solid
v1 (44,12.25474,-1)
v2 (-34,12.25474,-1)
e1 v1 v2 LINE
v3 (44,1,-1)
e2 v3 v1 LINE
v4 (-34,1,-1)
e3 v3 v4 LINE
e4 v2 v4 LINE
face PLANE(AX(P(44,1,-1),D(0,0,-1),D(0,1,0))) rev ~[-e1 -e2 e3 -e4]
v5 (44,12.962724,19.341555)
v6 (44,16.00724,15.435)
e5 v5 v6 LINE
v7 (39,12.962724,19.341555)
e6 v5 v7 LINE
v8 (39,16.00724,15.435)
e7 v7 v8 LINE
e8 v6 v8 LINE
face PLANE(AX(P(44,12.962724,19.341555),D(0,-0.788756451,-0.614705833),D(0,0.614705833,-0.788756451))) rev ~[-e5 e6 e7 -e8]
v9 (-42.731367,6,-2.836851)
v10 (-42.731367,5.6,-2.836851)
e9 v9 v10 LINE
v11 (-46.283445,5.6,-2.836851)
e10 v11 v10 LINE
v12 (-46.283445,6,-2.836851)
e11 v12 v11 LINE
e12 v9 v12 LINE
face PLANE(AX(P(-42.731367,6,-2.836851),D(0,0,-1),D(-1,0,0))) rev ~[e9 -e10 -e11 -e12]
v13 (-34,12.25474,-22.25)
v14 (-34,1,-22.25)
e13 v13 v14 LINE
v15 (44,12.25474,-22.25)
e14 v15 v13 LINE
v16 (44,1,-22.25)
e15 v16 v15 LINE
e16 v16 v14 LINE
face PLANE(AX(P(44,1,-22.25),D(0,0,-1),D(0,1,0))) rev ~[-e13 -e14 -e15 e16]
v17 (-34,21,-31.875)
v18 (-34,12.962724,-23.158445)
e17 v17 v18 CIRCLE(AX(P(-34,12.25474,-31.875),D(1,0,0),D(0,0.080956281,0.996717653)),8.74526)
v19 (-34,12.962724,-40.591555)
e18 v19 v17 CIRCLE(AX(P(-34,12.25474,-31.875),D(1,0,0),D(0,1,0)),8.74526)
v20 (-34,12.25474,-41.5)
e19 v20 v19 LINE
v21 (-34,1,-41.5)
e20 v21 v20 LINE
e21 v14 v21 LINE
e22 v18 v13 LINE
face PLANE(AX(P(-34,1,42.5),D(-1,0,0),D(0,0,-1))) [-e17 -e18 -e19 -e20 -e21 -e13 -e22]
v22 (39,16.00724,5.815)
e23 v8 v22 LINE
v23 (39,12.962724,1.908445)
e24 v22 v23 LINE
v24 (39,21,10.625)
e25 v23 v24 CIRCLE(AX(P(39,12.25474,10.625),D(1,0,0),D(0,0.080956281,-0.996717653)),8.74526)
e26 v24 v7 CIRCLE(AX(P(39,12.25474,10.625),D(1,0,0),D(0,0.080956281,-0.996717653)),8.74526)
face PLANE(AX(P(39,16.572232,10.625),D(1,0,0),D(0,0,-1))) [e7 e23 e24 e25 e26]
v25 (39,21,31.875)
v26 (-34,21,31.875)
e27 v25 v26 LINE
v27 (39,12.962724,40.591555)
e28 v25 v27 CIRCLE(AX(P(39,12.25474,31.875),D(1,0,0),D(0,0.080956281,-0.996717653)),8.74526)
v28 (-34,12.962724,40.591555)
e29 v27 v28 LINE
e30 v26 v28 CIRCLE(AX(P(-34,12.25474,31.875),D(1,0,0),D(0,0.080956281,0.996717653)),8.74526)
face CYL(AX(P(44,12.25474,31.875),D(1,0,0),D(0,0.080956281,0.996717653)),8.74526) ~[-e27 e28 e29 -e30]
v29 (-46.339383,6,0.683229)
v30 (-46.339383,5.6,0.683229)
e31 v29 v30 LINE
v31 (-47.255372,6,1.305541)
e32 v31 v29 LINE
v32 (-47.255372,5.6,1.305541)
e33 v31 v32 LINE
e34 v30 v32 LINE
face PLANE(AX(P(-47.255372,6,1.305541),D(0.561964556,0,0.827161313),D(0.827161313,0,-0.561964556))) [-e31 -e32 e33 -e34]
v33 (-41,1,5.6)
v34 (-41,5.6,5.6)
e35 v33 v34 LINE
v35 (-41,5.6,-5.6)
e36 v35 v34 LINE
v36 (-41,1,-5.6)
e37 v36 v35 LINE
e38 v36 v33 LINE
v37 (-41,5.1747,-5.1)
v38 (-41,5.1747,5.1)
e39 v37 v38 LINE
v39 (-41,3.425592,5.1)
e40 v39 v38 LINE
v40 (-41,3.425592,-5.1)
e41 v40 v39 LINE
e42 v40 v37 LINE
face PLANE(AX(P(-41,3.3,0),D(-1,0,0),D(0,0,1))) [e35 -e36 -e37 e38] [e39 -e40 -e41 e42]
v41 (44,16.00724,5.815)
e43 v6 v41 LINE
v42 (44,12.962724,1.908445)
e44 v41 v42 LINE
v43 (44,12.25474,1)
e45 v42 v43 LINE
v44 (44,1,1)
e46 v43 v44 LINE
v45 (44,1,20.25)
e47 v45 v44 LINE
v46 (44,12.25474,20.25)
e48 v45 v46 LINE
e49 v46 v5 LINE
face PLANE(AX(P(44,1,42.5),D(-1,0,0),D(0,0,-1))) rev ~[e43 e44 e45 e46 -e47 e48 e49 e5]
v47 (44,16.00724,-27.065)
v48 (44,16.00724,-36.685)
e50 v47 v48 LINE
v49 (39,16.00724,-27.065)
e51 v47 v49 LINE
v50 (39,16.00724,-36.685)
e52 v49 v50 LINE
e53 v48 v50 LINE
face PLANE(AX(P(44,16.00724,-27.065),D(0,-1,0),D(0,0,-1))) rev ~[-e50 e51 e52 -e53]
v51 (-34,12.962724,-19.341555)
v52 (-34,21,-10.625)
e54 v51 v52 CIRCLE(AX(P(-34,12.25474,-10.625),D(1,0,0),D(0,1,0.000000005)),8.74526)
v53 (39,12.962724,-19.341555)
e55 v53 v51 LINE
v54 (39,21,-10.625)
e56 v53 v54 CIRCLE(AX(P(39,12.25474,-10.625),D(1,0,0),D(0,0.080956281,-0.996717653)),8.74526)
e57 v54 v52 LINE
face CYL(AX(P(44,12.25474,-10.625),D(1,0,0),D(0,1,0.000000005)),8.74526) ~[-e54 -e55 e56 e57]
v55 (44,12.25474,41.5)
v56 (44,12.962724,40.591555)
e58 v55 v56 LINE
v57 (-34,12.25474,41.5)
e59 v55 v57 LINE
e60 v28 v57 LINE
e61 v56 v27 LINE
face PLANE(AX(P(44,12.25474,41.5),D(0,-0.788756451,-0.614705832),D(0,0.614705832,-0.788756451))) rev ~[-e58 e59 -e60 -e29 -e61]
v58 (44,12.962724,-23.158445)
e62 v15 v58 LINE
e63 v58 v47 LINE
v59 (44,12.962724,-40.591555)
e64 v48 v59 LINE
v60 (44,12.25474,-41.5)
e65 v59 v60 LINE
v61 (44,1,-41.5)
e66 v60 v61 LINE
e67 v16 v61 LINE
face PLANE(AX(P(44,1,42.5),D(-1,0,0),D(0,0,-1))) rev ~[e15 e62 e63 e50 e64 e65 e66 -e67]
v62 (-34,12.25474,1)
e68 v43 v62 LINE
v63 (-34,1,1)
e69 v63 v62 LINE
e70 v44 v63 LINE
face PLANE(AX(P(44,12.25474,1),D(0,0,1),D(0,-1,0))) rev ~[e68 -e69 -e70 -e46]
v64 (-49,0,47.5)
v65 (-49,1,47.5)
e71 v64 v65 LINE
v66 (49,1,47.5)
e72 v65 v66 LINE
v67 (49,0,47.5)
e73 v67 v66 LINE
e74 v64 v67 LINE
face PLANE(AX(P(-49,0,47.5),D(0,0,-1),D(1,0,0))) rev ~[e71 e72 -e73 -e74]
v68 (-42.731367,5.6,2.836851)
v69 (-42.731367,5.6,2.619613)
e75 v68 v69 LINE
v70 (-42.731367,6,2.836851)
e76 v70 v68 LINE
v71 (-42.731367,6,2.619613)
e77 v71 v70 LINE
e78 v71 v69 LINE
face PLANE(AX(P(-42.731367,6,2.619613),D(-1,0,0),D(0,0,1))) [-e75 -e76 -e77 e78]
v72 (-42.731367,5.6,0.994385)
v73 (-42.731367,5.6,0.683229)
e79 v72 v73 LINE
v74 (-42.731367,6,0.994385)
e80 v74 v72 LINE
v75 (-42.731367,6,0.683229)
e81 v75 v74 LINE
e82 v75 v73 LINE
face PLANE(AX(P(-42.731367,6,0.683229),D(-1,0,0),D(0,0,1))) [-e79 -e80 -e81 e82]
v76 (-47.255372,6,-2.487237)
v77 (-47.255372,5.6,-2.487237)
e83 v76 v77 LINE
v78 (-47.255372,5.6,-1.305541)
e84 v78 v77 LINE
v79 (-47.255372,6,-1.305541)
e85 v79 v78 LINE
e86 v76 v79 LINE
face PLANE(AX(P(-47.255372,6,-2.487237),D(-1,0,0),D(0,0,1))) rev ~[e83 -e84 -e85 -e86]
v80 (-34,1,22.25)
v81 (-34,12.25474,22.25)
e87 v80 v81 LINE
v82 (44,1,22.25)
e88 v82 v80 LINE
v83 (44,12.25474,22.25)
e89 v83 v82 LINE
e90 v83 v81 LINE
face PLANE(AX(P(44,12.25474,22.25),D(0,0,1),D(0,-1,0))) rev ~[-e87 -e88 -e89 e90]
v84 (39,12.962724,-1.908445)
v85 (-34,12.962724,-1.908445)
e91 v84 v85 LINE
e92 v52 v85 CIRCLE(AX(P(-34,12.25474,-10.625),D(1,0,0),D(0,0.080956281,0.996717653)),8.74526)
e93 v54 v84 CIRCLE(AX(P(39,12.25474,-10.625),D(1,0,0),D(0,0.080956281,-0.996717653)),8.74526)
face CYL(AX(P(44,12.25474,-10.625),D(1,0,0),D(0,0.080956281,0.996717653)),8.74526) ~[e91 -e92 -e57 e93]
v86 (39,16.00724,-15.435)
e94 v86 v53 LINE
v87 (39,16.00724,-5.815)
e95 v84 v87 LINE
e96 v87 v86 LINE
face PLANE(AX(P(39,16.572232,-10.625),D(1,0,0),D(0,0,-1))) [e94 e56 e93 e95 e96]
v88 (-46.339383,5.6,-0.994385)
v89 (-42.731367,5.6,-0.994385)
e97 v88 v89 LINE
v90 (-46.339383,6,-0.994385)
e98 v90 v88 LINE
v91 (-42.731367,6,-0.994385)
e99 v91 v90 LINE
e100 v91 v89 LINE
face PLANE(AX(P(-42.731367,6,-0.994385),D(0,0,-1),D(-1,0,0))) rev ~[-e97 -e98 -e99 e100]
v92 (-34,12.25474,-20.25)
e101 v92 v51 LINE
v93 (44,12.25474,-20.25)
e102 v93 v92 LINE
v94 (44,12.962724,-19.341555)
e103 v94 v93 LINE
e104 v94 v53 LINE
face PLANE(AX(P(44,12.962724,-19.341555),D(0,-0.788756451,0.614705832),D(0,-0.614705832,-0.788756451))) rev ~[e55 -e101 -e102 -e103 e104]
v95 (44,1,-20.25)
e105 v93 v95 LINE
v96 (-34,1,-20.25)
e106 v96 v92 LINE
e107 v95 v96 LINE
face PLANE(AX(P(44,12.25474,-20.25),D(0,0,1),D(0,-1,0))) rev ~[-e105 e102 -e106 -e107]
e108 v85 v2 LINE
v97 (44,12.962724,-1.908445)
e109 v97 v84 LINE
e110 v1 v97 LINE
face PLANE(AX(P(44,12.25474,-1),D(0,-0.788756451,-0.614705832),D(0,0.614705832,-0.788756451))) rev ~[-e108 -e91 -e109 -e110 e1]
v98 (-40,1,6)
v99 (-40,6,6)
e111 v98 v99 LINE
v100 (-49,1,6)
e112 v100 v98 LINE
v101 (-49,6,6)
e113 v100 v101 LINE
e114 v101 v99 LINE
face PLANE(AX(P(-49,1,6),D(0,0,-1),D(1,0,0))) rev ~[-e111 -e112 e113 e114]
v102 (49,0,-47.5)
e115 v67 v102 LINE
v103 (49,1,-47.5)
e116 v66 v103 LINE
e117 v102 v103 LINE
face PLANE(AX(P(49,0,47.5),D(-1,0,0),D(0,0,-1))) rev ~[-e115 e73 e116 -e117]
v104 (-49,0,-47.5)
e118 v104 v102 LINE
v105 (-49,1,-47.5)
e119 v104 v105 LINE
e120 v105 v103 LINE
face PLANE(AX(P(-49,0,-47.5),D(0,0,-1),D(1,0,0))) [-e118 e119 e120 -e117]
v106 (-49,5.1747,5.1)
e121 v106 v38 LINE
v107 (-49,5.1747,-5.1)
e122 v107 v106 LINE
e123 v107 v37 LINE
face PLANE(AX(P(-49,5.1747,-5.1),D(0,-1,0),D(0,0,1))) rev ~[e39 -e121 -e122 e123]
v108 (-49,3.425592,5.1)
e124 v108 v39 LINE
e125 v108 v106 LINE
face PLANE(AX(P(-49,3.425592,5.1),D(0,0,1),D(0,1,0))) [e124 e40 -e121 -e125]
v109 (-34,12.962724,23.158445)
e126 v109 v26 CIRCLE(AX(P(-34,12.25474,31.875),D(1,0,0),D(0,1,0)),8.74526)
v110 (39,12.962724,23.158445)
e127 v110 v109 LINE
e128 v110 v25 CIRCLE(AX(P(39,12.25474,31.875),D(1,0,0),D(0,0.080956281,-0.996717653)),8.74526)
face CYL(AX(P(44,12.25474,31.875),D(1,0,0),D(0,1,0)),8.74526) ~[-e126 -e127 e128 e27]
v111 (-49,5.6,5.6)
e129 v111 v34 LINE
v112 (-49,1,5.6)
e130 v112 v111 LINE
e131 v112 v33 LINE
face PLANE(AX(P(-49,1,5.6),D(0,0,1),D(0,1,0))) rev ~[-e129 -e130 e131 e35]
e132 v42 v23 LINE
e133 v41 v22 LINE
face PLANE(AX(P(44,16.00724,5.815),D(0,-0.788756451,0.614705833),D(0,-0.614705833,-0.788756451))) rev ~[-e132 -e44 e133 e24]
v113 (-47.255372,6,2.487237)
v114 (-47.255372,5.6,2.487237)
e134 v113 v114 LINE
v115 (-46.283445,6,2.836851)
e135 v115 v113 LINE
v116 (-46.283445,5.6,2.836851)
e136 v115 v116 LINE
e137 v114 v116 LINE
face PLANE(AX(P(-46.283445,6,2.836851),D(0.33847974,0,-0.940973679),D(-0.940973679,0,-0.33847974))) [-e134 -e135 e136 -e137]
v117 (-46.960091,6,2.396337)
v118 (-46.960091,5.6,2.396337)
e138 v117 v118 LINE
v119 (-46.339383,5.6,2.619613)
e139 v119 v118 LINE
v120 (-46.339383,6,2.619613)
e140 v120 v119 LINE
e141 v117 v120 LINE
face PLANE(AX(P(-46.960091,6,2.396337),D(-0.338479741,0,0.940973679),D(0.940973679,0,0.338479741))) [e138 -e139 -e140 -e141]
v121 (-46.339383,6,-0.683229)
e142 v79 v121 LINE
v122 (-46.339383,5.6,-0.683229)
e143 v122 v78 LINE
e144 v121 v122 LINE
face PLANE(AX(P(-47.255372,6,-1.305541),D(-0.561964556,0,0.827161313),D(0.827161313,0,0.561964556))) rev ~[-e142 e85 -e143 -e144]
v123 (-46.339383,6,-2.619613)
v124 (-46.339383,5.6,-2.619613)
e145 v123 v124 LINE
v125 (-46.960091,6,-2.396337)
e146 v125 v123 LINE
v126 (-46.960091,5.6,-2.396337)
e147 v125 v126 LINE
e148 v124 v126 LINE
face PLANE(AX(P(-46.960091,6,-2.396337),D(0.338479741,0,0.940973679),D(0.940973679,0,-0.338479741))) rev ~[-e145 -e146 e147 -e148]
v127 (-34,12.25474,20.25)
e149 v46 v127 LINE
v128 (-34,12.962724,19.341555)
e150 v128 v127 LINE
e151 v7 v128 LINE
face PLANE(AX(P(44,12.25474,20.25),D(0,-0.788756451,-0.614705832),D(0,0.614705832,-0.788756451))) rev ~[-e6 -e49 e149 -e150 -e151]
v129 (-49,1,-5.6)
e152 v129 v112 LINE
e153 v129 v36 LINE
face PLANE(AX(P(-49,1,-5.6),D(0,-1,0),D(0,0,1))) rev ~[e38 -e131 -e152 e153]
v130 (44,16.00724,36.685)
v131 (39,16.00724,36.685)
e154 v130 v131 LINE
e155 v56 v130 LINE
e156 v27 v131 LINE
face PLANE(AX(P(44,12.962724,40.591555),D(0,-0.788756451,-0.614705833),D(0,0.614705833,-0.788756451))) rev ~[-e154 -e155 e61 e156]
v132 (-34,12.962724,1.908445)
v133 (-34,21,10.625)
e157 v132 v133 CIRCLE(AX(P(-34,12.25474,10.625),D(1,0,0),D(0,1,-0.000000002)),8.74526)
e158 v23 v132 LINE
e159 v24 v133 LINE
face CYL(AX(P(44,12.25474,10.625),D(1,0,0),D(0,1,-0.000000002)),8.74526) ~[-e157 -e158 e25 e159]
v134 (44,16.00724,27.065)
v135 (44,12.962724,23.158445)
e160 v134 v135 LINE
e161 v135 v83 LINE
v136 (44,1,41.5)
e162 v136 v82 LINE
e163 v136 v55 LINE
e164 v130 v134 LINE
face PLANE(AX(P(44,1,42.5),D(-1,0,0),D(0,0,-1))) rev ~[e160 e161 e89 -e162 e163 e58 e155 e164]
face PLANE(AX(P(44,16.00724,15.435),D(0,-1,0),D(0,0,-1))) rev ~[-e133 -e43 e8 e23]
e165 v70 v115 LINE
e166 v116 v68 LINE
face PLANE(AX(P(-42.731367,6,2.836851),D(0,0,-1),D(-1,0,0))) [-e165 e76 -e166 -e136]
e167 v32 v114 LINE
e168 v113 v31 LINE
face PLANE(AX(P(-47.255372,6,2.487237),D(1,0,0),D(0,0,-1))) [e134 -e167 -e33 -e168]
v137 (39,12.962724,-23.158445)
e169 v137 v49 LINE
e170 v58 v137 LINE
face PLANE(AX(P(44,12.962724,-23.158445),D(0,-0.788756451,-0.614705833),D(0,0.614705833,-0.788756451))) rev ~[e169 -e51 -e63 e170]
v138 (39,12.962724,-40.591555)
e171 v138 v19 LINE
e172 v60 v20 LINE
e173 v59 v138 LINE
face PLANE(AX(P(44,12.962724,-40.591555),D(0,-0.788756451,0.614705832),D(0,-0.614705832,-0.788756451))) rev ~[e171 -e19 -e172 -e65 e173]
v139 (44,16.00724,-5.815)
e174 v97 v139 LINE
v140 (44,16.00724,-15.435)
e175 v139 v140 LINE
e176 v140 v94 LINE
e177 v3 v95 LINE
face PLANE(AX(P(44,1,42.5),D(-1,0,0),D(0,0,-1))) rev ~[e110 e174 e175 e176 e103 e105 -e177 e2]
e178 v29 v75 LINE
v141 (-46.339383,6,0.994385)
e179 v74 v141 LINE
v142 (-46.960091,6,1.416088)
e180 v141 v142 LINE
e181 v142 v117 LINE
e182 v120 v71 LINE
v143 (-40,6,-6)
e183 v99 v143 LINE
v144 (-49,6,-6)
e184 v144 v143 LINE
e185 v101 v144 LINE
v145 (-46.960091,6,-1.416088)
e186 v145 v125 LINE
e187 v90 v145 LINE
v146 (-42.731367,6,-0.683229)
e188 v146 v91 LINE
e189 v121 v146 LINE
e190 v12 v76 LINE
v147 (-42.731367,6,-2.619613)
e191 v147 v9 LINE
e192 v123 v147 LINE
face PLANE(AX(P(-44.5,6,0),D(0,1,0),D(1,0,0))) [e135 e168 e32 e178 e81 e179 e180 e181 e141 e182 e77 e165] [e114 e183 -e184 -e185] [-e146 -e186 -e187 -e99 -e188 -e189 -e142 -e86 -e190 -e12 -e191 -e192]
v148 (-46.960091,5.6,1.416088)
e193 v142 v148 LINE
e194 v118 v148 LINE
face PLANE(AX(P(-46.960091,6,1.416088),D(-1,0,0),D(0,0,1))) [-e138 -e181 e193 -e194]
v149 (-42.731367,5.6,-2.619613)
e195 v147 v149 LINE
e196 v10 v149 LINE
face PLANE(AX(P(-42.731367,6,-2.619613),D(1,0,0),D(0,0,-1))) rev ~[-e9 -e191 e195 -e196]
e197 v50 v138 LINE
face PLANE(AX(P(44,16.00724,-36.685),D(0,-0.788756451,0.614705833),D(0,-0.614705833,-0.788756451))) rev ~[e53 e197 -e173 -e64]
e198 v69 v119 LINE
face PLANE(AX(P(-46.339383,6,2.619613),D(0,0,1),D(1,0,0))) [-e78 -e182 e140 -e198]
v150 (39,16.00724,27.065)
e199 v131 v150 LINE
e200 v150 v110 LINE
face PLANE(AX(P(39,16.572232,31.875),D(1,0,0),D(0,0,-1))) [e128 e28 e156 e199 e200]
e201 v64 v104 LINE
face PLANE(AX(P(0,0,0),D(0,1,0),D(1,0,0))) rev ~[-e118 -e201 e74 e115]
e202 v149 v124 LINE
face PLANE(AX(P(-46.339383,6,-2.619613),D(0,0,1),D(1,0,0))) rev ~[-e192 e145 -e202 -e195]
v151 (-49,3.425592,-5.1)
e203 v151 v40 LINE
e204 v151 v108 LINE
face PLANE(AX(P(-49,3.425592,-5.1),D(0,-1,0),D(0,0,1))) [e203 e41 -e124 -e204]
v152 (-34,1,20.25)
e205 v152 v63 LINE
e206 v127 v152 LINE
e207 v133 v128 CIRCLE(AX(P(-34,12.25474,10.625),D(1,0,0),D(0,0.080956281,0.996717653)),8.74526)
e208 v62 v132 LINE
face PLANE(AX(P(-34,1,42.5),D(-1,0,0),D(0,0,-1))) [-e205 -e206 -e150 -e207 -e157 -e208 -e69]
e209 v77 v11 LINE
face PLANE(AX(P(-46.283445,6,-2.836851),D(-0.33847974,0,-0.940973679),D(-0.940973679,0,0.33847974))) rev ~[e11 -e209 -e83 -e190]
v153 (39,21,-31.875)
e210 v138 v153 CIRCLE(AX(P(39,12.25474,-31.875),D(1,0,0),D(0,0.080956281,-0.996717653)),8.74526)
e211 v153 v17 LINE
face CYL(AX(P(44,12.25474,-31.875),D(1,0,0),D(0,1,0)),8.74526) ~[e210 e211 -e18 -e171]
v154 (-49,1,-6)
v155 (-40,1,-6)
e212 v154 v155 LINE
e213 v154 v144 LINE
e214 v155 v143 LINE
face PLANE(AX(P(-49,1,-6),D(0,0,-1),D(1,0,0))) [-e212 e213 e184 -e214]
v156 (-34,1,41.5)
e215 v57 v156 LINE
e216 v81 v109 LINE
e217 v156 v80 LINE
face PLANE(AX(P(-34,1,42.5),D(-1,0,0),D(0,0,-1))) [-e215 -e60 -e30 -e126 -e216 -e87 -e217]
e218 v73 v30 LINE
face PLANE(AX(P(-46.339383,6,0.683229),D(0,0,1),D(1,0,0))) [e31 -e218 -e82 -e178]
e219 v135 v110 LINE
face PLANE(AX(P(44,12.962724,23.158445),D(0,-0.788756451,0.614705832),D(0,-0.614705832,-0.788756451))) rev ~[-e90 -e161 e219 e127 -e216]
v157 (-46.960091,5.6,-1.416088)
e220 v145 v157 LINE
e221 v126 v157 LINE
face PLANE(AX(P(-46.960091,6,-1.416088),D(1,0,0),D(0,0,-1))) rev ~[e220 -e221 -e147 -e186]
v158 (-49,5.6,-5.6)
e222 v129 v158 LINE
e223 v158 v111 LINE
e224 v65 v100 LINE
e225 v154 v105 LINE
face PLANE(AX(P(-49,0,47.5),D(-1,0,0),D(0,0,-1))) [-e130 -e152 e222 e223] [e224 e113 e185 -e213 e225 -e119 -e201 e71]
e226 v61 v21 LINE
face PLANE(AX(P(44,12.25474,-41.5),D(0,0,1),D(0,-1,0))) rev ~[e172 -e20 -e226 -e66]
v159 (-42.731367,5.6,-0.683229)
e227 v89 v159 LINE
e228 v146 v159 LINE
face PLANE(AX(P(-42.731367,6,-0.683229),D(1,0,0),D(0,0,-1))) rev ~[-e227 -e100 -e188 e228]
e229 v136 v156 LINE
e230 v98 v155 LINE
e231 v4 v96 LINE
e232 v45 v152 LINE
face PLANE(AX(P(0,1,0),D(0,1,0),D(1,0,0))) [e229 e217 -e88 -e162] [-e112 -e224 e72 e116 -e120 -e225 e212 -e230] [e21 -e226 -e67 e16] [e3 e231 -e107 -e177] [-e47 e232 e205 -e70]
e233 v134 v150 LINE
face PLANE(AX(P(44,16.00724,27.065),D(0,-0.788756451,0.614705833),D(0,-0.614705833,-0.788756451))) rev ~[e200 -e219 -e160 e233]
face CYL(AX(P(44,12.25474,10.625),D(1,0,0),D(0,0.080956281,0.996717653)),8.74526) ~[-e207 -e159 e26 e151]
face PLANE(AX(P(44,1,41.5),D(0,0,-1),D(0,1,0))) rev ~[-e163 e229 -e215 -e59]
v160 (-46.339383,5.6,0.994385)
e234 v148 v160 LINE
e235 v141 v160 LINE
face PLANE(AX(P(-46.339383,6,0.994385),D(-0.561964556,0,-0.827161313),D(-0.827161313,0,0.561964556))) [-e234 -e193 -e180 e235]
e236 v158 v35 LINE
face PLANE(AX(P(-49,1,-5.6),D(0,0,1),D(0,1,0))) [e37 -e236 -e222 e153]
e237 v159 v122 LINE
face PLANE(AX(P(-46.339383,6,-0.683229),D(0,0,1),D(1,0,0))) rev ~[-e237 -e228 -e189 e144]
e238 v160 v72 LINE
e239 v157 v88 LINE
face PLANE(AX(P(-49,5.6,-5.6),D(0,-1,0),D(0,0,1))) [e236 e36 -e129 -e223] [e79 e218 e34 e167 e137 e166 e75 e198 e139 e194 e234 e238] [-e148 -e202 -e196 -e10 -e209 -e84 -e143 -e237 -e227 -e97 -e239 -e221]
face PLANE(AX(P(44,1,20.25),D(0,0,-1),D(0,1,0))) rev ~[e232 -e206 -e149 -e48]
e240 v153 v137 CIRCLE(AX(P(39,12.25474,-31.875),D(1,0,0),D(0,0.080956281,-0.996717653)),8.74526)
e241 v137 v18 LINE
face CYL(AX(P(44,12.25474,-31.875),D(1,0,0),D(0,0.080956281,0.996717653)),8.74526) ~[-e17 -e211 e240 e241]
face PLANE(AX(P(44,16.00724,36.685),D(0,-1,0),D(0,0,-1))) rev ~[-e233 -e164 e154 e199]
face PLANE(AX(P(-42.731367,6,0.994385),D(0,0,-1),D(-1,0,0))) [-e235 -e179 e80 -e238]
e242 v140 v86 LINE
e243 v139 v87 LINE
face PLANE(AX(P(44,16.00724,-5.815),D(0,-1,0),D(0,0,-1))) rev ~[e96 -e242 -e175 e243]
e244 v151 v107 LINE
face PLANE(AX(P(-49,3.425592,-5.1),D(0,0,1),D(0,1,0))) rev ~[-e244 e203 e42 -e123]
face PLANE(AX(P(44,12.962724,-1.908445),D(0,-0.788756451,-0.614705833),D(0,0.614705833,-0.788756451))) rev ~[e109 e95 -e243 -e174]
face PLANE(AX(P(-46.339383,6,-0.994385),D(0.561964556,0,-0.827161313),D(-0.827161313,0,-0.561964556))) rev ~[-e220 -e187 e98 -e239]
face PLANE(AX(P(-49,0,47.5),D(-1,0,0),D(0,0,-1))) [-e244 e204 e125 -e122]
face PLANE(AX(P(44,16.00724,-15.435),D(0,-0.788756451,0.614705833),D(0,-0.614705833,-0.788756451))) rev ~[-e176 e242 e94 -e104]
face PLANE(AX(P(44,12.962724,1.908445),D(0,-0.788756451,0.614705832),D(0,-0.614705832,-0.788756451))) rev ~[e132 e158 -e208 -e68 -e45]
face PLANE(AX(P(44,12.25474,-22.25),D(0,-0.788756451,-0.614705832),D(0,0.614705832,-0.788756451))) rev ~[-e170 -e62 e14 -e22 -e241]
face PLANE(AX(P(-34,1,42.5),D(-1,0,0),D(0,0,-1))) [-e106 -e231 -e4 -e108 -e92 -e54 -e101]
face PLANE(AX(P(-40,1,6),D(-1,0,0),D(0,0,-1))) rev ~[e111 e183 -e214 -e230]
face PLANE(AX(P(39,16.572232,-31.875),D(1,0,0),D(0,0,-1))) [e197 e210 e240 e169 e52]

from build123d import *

# Parameters (mm, degrees)
SKETCH_1_W          = 98
SKETCH_1_H          = 95
EXTRUDE_1_DEPTH     = 1
SKETCH_2_W          = 78
SKETCH_2_H          = 85
EXTRUDE_2_DEPTH     = 20
CUT_EXTRUDE_1_DEPTH = 100
CUT_EXTRUDE_2_DEPTH = 5
SKETCH_5_W          = 9
SKETCH_5_H          = 12
EXTRUDE_3_DEPTH     = 5
SKETCH_6_W          = 11.2
SKETCH_6_H          = 4.6
SKETCH_6_W_2        = 10.2
SKETCH_6_H_2        = 1.749108458
CUT_EXTRUDE_4_DEPTH = 8
CUT_EXTRUDE_5_DEPTH = 0.5


with BuildPart() as part:
    # 스케치1 → 보스-돌출1 (new body)
    with BuildSketch(Plane(origin=(0, 0, 0), x_dir=(1, 0, 0), z_dir=(0, 1, 0))):
        Rectangle(SKETCH_1_W, SKETCH_1_H)
    extrude(amount=EXTRUDE_1_DEPTH)

    # 스케치2 → 보스-돌출2 (add)
    with BuildSketch(Plane(origin=(0, 1, 0), x_dir=(1, 0, 0), z_dir=(0, 1, 0))):
        with Locations((5, 0)):
            Rectangle(SKETCH_2_W, SKETCH_2_H)
    extrude(amount=EXTRUDE_2_DEPTH)

    # 스케치4 → 컷-돌출1 (cut)
    with BuildSketch(Plane(origin=(44, 0, 0), x_dir=(0, 0, -1), z_dir=(1, 0, 0))):
        with BuildLine():
            Line((-42.5, 1), (-41.5, 1))
            Line((-41.5, 1), (-41.5, 12.254740451))
            Line((-41.5, 12.254740451), (-40.591554577, 12.962724137))
            ThreePointArc((-40.591554577, 12.962724137), (-37.80324019, 18.684012014), (-31.875, 21))
            Line((-31.875, 21), (-42.5, 21))
            Line((-42.5, 21), (-42.5, 1))
        make_face()
        with BuildLine():
            Line((-22.25, 12.254740451), (-22.25, 1))
            Line((-22.25, 1), (-20.25, 1))
            Line((-20.25, 1), (-20.25, 12.254740451))
            Line((-20.25, 12.254740451), (-19.341554577, 12.962724137))
            ThreePointArc((-19.341554577, 12.962724137), (-16.553240185, 18.684012019), (-10.624999986, 21))
            Line((-10.624999986, 21), (-31.875, 21))
            ThreePointArc((-31.875, 21), (-25.94675981, 18.684012014), (-23.158445423, 12.962724137))
            Line((-23.158445423, 12.962724137), (-22.25, 12.254740451))
        make_face()
        with BuildLine():
            Line((-1, 12.254740451), (-1, 1))
            Line((-1, 1), (1, 1))
            Line((1, 1), (1, 12.254740451))
            Line((1, 12.254740451), (1.908445423, 12.962724137))
            ThreePointArc((1.908445423, 12.962724137), (4.696759796, 18.684012001), (10.62499996, 21))
            Line((10.62499996, 21), (-10.624999986, 21))
            ThreePointArc((-10.624999986, 21), (-4.696759805, 18.68401201), (-1.908445423, 12.962724137))
            Line((-1.908445423, 12.962724137), (-1, 12.254740451))
        make_face()
        with BuildLine():
            Line((20.25, 12.254740451), (20.25, 1))
            Line((20.25, 1), (22.25, 1))
            Line((22.25, 1), (22.25, 12.254740451))
            Line((22.25, 12.254740451), (23.158445423, 12.962724137))
            ThreePointArc((23.158445423, 12.962724137), (25.94675981, 18.684012014), (31.875, 21))
            Line((31.875, 21), (10.62499996, 21))
            ThreePointArc((10.62499996, 21), (16.553240175, 18.684012028), (19.341554577, 12.962724137))
            Line((19.341554577, 12.962724137), (20.25, 12.254740451))
        make_face()
        with BuildLine():
            Line((42.5, 21), (31.875, 21))
            ThreePointArc((31.875, 21), (37.80324019, 18.684012014), (40.591554577, 12.962724137))
            Line((40.591554577, 12.962724137), (41.5, 12.254740451))
            Line((41.5, 12.254740451), (41.5, 1))
            Line((41.5, 1), (42.5, 1))
            Line((42.5, 1), (42.5, 21))
        make_face()
    extrude(amount=-CUT_EXTRUDE_1_DEPTH, mode=Mode.SUBTRACT)

    # 스케치4<3> → 컷-돌출2 (cut)
    with BuildSketch(Plane(origin=(44, 0, 0), x_dir=(0, 0, -1), z_dir=(1, 0, 0))):
        with BuildLine():
            ThreePointArc((-23.158445423, 12.962724137), (-31.875, 21), (-40.591554577, 12.962724137))
            Line((-40.591554577, 12.962724137), (-36.685, 16.007240451))
            Line((-36.685, 16.007240451), (-27.065, 16.007240451))
            Line((-27.065, 16.007240451), (-23.158445423, 12.962724137))
        make_face()
        with BuildLine():
            Line((-5.815, 16.007240451), (-1.908445423, 12.962724137))
            ThreePointArc((-1.908445423, 12.962724137), (-10.625, 21), (-19.341554577, 12.962724137))
            Line((-19.341554577, 12.962724137), (-15.435, 16.007240451))
            Line((-15.435, 16.007240451), (-5.815, 16.007240451))
        make_face()
        with BuildLine():
            Line((15.435, 16.007240451), (19.341554577, 12.962724137))
            ThreePointArc((19.341554577, 12.962724137), (10.625, 21), (1.908445423, 12.962724137))
            Line((1.908445423, 12.962724137), (5.815, 16.007240451))
            Line((5.815, 16.007240451), (15.435, 16.007240451))
        make_face()
        with BuildLine():
            Line((36.685, 16.007240451), (40.591554577, 12.962724137))
            ThreePointArc((40.591554577, 12.962724137), (31.875, 21), (23.158445423, 12.962724137))
            Line((23.158445423, 12.962724137), (27.065, 16.007240451))
            Line((27.065, 16.007240451), (36.685, 16.007240451))
        make_face()
    extrude(amount=-CUT_EXTRUDE_2_DEPTH, mode=Mode.SUBTRACT)

    # 스케치5 → 보스-돌출3 (add)
    with BuildSketch(Plane(origin=(0, 1, 0), x_dir=(1, 0, 0), z_dir=(0, 1, 0))):
        with Locations((-44.5, 0)):
            Rectangle(SKETCH_5_W, SKETCH_5_H)
    extrude(amount=EXTRUDE_3_DEPTH)

    # 스케치6 → 컷-돌출4 (cut)
    with BuildSketch(Plane.ZY.offset(49)):
        with Locations((0, 3.3)):
            Rectangle(SKETCH_6_W, SKETCH_6_H)
        with Locations((0, 4.300145796)):
            Rectangle(SKETCH_6_W_2, SKETCH_6_H_2, mode=Mode.SUBTRACT)
    extrude(amount=-CUT_EXTRUDE_4_DEPTH, mode=Mode.SUBTRACT)

    # 스케치7 → 컷-돌출5 (cut)
    with BuildSketch(Plane(origin=(0, 6, 0), x_dir=(1, 0, 0), z_dir=(0, 1, 0))):
        Polygon((-42.731367286, 2.836850655), (-46.283445156, 2.836850655), (-47.255371975, 2.487236692), (-47.255371975, 1.305541495), (-46.33938339, 0.68322864), (-42.731367286, 0.68322864), (-42.731367286, 0.994385067), (-46.33938339, 0.994385067), (-46.960091467, 1.416087501), (-46.960091467, 2.396337061), (-46.33938339, 2.619613348), (-42.731367286, 2.619613348), align=None)
        Polygon((-42.731367286, -2.836850655), (-46.283445156, -2.836850655), (-47.255371975, -2.487236692), (-47.255371975, -1.305541495), (-46.33938339, -0.68322864), (-42.731367286, -0.68322864), (-42.731367286, -0.994385067), (-46.33938339, -0.994385067), (-46.960091467, -1.416087501), (-46.960091467, -2.396337061), (-46.33938339, -2.619613348), (-42.731367286, -2.619613348), align=None)
    extrude(amount=-CUT_EXTRUDE_5_DEPTH, mode=Mode.SUBTRACT)


solid = part.part
